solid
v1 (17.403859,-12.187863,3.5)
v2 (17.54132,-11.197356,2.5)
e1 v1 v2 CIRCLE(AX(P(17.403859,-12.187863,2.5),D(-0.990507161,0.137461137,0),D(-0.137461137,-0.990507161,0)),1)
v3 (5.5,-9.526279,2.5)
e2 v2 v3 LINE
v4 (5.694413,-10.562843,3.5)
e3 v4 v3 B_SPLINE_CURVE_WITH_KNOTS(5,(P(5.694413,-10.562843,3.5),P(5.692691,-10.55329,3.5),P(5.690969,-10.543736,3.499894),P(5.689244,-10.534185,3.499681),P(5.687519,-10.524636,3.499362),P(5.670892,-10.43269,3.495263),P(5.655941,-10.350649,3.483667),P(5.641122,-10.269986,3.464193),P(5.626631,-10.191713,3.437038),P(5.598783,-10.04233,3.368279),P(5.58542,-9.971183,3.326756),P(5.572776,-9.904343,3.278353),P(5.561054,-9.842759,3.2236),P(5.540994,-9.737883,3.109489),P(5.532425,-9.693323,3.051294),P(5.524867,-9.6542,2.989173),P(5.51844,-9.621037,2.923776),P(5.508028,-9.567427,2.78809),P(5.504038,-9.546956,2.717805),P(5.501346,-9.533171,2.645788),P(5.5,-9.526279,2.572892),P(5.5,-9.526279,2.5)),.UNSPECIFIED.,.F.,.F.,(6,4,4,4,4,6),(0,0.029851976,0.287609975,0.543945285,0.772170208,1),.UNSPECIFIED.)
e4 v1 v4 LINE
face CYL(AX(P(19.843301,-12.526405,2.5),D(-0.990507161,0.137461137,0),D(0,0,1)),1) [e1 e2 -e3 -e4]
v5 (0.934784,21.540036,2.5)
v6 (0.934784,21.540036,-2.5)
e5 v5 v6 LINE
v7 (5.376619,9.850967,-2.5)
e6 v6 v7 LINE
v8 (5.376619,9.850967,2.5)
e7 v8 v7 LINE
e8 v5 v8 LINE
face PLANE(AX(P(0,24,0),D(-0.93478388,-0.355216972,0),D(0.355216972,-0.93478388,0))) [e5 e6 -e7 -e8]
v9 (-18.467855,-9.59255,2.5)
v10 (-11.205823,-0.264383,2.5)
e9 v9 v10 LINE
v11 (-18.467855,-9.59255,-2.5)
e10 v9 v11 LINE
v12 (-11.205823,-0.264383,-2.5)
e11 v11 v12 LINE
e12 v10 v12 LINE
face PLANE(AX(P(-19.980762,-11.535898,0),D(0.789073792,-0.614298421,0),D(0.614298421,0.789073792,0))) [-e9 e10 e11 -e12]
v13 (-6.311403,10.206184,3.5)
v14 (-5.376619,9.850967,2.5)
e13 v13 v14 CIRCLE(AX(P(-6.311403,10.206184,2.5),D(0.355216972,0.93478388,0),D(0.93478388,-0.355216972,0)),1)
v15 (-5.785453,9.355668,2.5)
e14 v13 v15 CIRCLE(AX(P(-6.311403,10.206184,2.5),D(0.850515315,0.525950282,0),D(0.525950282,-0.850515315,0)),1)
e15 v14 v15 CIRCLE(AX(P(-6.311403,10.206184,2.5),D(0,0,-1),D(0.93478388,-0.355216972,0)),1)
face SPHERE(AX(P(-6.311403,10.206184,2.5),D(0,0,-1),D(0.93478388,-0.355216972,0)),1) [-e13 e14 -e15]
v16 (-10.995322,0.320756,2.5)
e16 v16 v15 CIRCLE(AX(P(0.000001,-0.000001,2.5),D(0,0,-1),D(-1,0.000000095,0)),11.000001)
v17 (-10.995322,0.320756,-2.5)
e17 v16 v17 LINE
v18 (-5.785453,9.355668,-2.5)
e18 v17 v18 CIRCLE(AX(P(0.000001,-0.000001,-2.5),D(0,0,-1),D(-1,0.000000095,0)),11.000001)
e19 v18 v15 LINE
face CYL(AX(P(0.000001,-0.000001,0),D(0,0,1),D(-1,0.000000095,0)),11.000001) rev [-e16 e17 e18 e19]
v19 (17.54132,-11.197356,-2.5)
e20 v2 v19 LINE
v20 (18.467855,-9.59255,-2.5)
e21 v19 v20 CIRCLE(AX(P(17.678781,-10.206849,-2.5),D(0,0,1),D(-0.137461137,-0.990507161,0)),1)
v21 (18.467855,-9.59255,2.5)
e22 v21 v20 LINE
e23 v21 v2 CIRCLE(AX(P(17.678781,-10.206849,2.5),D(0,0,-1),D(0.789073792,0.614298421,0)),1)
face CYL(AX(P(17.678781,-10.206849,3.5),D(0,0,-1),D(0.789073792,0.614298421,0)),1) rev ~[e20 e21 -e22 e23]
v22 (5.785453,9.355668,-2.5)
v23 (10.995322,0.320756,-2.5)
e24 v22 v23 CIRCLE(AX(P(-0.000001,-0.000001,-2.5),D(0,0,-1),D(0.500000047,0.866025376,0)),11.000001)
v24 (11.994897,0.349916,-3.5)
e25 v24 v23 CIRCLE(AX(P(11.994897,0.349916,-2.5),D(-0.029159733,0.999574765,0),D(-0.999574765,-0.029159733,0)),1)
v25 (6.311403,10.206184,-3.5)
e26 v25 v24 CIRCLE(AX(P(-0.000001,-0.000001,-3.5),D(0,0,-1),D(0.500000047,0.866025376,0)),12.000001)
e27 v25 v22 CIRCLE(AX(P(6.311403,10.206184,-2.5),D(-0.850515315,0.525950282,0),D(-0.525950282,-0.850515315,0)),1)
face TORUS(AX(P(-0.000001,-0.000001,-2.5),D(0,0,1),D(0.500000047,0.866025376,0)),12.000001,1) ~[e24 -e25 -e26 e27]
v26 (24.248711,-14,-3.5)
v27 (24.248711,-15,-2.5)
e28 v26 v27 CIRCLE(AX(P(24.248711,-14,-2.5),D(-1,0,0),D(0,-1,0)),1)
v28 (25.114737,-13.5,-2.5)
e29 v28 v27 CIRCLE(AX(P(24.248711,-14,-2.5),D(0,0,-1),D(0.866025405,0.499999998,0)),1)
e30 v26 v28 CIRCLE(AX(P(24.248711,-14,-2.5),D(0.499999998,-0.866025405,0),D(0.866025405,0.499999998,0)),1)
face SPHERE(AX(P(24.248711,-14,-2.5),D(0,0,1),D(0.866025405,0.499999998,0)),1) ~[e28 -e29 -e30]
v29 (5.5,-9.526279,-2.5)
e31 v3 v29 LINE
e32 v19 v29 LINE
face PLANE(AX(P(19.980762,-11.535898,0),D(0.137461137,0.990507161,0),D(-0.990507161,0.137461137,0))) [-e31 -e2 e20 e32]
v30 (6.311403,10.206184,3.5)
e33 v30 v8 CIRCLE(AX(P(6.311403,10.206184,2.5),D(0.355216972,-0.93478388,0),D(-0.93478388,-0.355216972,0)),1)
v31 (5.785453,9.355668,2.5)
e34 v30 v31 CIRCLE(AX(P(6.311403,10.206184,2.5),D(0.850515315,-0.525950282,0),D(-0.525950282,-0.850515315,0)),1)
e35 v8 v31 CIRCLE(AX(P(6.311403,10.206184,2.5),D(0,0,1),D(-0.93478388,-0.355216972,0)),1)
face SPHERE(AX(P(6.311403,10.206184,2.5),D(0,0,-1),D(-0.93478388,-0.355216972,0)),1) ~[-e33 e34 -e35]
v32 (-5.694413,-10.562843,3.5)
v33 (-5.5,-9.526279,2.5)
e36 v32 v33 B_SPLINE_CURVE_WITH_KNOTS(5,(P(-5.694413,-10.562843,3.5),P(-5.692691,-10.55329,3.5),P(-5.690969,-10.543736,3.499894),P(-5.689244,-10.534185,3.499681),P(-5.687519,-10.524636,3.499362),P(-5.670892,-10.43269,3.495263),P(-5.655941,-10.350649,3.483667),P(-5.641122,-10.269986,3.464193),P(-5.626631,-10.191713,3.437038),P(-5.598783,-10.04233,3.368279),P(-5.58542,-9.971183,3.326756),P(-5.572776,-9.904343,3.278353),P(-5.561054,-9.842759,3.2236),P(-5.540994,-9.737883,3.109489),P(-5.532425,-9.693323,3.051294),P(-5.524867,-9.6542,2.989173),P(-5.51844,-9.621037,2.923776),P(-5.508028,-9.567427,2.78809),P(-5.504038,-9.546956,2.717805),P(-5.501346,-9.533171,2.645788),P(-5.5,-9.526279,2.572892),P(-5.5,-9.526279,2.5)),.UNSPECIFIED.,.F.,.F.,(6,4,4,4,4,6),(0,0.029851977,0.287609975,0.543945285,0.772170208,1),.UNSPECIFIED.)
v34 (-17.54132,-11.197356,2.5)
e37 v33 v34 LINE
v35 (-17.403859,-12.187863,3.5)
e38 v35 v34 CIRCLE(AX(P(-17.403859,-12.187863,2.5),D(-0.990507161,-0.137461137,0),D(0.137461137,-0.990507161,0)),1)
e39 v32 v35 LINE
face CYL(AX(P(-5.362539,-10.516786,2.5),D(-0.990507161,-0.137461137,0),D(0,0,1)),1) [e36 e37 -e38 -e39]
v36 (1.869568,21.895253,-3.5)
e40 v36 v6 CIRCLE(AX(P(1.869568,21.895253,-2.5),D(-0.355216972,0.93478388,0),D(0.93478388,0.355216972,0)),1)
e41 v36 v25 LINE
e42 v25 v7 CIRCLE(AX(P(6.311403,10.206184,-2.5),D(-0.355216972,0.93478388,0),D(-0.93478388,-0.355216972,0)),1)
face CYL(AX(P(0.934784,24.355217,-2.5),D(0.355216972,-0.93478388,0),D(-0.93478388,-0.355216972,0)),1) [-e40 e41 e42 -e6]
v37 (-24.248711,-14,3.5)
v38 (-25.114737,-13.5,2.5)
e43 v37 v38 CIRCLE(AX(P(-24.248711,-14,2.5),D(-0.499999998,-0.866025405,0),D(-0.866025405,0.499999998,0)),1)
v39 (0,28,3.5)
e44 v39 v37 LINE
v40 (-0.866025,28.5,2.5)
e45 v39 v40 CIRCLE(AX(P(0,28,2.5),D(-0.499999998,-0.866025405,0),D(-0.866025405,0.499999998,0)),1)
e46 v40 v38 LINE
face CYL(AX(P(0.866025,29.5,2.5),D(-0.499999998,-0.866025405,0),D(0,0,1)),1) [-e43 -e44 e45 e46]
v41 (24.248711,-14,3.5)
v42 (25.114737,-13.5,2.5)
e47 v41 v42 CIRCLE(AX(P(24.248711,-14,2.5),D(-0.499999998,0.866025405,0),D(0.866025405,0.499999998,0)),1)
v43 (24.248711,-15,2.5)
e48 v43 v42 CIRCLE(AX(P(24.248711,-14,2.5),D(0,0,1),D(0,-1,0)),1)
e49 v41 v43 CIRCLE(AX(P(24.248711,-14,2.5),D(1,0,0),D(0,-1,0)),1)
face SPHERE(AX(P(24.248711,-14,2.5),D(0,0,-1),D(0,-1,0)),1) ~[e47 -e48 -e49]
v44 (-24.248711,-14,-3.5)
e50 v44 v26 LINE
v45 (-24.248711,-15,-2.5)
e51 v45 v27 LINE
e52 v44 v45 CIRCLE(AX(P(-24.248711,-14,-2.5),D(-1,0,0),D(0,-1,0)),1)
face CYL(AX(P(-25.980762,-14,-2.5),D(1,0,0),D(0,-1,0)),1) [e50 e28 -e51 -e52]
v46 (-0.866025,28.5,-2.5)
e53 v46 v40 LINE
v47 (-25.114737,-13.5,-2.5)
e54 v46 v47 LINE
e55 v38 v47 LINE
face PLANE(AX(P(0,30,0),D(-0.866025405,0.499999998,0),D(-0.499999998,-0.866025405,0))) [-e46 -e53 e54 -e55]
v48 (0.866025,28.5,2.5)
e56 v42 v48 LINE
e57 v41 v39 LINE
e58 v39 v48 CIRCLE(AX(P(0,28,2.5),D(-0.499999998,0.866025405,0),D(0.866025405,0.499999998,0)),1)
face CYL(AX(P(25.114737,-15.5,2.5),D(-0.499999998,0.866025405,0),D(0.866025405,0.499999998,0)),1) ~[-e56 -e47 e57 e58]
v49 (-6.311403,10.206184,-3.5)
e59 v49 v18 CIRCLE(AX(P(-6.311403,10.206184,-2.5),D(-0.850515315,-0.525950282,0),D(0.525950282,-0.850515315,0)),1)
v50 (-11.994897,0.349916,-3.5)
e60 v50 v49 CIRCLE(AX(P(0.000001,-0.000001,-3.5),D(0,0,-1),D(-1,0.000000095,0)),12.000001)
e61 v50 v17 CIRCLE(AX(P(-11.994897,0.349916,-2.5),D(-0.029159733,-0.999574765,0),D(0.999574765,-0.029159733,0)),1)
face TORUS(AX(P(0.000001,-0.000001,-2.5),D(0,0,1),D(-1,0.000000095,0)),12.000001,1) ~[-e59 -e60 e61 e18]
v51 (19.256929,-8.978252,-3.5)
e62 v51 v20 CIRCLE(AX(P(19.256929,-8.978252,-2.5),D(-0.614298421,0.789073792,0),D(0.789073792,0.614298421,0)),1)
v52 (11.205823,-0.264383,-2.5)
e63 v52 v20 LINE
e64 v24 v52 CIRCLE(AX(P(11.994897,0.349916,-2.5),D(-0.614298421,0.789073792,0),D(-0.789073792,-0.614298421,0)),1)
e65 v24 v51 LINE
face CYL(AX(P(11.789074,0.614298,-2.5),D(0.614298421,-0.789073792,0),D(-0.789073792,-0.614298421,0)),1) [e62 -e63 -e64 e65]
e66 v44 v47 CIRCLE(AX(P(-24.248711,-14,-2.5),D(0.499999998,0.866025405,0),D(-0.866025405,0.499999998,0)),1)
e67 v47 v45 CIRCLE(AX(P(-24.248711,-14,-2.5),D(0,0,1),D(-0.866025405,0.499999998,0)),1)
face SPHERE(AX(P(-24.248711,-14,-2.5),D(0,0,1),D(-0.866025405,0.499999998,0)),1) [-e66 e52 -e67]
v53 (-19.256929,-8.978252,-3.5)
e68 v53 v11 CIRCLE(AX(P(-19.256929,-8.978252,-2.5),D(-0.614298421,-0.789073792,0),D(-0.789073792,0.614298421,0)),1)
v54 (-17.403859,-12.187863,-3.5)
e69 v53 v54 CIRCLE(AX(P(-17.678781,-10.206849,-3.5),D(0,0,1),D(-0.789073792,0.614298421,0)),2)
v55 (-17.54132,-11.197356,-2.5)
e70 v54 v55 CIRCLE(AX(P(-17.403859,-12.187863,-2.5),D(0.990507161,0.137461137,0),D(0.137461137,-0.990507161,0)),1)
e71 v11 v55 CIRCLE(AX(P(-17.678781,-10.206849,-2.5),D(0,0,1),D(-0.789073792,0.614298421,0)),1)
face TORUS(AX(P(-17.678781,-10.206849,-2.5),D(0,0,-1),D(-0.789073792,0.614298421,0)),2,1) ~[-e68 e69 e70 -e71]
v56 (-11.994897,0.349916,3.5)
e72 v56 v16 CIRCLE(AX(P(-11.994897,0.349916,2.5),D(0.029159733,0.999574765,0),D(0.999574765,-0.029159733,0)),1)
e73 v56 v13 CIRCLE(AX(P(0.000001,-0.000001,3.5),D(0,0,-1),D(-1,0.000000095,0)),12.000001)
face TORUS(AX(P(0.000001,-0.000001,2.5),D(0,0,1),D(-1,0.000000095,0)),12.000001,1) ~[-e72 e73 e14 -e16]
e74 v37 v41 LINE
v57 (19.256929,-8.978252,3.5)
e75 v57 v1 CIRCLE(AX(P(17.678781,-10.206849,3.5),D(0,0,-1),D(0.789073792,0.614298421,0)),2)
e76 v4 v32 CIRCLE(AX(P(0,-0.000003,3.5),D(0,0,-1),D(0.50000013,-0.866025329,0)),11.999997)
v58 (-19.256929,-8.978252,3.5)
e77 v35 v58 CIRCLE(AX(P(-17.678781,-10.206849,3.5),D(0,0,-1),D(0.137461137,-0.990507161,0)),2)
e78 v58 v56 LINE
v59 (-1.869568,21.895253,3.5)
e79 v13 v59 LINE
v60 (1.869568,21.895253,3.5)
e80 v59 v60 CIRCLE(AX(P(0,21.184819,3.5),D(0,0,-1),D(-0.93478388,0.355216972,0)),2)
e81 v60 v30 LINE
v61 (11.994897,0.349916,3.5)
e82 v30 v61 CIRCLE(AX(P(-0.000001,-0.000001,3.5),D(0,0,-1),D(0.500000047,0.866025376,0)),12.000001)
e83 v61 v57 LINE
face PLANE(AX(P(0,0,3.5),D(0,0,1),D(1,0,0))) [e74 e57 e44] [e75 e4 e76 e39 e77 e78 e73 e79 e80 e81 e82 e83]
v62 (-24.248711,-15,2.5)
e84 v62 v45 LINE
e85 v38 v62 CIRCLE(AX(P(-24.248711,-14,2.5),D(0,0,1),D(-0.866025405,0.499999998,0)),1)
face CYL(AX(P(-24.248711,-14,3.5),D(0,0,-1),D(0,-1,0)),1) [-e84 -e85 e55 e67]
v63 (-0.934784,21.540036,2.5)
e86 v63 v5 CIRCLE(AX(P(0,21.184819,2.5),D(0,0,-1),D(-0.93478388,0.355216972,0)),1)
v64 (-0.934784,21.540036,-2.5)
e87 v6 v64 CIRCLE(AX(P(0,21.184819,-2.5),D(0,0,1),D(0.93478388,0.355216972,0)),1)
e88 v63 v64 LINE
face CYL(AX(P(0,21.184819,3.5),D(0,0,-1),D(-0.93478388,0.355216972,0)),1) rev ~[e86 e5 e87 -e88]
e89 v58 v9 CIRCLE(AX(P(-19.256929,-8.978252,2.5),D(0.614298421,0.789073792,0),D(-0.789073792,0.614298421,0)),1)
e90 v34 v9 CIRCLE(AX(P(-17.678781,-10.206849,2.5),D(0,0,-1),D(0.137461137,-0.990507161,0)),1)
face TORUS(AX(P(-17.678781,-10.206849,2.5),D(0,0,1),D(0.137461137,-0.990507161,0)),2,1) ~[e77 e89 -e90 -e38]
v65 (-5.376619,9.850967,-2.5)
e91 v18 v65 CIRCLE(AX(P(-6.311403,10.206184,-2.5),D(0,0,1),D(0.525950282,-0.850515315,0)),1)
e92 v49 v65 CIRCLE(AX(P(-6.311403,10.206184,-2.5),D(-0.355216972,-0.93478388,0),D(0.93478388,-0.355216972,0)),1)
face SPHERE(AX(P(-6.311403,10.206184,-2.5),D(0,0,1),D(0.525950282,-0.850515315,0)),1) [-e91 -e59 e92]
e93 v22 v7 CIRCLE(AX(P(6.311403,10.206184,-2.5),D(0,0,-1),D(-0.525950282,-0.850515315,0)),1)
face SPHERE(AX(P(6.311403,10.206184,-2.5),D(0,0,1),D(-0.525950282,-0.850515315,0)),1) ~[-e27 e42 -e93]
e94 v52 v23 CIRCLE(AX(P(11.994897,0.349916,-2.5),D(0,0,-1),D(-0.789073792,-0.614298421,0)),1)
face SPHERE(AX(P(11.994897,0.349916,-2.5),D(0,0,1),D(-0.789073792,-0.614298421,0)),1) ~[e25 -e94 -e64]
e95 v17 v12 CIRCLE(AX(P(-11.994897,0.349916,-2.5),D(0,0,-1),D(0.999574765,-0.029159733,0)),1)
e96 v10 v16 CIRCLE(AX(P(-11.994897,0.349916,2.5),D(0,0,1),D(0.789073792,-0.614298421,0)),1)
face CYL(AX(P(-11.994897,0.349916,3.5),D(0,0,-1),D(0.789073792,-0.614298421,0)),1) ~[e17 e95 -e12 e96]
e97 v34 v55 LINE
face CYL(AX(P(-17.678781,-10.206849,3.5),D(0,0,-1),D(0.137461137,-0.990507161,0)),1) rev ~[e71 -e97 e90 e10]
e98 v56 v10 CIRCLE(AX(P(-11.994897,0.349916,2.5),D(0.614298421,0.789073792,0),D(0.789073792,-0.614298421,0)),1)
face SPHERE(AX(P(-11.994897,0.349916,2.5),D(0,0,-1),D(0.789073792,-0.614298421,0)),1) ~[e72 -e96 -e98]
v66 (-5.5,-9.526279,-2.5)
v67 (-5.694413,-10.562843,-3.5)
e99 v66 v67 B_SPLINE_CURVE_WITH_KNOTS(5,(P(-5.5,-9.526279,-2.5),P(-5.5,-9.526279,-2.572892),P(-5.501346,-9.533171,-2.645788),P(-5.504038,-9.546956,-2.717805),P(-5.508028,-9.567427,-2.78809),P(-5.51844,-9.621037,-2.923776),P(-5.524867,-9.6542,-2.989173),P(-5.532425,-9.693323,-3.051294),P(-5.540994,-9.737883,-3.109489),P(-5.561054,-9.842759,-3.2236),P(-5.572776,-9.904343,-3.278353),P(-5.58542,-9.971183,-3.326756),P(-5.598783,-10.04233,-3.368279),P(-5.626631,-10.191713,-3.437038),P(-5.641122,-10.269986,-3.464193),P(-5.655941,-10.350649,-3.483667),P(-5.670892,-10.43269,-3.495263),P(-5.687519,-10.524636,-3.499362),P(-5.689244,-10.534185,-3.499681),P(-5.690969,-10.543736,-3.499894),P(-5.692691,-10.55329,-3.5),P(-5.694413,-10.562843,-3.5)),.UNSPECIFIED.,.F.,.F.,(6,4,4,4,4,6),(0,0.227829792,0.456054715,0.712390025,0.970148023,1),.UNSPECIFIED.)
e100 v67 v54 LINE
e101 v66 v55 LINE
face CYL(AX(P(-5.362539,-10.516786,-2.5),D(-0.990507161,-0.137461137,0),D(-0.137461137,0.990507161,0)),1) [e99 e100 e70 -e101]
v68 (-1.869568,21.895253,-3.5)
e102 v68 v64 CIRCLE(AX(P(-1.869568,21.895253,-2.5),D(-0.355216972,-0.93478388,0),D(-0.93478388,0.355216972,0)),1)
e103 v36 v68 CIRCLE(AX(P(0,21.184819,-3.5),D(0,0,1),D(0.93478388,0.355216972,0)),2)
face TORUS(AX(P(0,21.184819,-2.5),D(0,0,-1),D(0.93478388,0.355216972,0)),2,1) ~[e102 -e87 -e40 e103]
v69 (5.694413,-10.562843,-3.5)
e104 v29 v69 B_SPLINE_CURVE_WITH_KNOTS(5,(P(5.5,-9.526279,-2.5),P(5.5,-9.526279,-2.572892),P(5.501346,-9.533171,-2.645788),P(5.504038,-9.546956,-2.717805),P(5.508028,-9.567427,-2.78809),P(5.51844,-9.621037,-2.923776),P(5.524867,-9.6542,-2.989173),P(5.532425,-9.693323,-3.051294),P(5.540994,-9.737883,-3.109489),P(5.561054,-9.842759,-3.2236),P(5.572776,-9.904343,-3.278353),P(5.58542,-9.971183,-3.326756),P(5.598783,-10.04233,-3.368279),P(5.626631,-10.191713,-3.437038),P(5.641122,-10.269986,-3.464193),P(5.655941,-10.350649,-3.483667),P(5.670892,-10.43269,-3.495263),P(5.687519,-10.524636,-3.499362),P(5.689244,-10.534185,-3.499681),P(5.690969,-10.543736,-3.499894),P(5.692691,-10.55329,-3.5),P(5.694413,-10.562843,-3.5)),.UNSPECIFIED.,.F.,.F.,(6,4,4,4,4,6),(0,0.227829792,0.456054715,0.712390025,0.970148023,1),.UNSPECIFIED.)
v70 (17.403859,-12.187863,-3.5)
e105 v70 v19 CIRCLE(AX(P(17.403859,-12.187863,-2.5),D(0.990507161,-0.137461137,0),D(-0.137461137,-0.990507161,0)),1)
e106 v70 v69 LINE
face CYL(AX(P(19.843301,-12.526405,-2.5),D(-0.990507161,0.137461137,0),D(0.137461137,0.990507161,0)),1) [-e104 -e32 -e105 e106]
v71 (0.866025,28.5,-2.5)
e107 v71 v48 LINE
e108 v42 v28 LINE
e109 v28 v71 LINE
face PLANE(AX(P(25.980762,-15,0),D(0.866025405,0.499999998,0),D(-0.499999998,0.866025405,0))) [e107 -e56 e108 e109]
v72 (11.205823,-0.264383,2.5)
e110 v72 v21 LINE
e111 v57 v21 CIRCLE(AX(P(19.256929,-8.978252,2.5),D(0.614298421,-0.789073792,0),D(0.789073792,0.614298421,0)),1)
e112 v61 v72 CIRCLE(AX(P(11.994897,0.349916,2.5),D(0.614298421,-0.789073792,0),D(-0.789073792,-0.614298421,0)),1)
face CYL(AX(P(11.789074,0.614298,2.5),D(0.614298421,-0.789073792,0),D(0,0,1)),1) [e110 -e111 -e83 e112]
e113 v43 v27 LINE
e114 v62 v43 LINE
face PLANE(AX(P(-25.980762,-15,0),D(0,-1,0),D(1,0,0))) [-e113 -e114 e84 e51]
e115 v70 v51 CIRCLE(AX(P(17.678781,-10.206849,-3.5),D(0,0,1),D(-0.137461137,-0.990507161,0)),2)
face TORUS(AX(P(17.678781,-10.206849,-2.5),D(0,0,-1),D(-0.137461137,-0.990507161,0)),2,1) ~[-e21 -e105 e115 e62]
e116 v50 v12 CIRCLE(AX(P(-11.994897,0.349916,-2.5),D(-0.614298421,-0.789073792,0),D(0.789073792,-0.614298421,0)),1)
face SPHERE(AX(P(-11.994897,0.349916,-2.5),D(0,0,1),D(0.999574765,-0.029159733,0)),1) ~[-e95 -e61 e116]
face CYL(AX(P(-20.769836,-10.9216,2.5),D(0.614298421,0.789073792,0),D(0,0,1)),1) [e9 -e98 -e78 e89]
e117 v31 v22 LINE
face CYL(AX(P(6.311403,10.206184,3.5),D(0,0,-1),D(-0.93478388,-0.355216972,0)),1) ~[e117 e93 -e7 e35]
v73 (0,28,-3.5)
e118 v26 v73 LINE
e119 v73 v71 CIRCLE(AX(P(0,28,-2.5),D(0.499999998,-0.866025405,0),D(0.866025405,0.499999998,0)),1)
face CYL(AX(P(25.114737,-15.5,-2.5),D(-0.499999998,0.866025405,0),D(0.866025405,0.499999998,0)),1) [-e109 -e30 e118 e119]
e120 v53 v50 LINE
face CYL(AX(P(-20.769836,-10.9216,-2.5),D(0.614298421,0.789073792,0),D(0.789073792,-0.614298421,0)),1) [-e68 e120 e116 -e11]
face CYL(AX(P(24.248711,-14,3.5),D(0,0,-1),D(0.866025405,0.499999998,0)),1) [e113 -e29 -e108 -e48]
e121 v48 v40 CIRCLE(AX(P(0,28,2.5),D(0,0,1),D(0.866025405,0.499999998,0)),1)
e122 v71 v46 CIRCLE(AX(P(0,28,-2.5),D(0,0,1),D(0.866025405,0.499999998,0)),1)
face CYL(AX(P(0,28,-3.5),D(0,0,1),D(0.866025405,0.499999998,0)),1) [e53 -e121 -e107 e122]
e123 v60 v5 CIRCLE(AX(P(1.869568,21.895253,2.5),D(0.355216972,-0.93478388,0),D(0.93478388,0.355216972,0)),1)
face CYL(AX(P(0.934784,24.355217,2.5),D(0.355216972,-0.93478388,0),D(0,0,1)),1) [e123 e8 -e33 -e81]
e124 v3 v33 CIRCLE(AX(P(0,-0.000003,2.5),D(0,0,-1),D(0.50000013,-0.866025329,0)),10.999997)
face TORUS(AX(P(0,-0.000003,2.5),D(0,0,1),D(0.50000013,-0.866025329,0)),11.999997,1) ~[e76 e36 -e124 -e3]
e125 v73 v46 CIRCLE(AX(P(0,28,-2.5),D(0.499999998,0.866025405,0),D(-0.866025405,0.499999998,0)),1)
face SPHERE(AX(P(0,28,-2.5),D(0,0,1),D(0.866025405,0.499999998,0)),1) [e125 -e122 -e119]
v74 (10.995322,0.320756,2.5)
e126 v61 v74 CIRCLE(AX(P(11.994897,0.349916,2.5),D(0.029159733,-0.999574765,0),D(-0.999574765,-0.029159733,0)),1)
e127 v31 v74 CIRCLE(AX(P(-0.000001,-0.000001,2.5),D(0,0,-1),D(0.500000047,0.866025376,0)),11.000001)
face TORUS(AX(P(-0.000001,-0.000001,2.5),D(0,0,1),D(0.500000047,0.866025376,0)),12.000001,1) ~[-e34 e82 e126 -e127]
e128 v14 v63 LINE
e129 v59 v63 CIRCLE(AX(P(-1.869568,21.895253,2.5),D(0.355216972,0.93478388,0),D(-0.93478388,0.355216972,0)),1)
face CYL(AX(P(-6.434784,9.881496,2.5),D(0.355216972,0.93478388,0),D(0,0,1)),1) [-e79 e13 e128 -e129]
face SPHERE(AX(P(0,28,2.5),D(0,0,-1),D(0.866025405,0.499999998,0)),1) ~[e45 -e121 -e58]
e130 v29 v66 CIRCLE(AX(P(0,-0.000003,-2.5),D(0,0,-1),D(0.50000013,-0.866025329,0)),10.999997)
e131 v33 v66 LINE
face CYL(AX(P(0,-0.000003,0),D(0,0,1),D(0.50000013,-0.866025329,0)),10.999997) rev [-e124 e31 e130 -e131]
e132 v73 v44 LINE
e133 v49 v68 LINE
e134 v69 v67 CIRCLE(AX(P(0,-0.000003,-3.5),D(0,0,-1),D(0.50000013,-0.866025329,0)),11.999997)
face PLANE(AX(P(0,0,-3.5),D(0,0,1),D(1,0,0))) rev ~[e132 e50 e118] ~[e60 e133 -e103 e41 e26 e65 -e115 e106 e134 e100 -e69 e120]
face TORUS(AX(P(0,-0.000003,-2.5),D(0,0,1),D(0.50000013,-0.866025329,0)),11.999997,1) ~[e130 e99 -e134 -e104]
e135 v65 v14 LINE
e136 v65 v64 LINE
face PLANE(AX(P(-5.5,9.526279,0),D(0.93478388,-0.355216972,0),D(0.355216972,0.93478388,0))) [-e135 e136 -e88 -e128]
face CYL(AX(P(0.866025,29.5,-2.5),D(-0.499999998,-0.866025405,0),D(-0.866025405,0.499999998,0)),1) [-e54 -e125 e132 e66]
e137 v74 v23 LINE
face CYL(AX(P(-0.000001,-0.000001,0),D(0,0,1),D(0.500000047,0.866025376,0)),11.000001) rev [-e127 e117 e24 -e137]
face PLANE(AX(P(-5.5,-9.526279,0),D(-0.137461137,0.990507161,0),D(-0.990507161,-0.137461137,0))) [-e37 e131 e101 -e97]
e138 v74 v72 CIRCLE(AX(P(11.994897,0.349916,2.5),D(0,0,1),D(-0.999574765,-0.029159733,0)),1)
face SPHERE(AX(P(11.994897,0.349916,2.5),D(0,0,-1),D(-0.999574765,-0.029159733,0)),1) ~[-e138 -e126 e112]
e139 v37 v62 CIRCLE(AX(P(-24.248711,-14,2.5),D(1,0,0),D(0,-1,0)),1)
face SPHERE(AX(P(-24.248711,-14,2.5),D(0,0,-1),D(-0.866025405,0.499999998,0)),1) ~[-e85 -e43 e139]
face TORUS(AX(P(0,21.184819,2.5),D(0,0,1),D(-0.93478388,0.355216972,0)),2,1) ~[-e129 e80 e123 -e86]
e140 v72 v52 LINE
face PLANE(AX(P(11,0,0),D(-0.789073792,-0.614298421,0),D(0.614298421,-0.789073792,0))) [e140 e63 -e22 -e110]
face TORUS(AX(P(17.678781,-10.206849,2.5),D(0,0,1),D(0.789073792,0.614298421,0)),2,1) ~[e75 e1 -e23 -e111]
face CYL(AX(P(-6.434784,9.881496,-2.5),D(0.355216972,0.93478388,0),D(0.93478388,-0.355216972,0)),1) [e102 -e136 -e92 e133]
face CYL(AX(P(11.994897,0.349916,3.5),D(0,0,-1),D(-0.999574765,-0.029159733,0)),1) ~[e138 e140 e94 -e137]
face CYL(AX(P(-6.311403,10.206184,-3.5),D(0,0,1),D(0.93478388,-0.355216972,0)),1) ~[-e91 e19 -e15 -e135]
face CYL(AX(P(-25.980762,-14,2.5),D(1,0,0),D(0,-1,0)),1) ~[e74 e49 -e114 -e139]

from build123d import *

# Parameters (mm, degrees)
F1_DEPTH = 3.5
F2_R     = 1


with BuildPart() as f1:
    # F0 (on Top) → F1 (new body, symmetric)
    with BuildSketch(Plane.XY):
        Polygon((25.980762, -15), (0, 30), (-25.980762, -15), align=None)
        with BuildLine():
            Line((-5.5, 9.526279), (0, 24))
            Line((0, 24), (5.5, 9.526279))
            ThreePointArc((5.5, 9.526279), (9.526279, 5.5), (11, 0))
            Line((11, 0), (19.980762, -11.535898))
            Line((19.980762, -11.535898), (5.5, -9.526279))
            ThreePointArc((5.5, -9.526279), (0, -11), (-5.5, -9.526279))
            Line((-5.5, -9.526279), (-19.980762, -11.535898))
            Line((-19.980762, -11.535898), (-11, 0))
            ThreePointArc((-11, 0), (-9.526279, 5.5), (-5.5, 9.526279))
        make_face(mode=Mode.SUBTRACT)
    extrude(amount=F1_DEPTH, both=True)

    # F2
    f2_edges = [f1.edges().sort_by_distance(p)[0] for p in [
        (0, -15, -3.5),
        (25.980762, -15, 0),
        (0, -15, 3.5),
        (-25.980762, -15, 0),
        (12.990381, 7.5, 3.5),
        (-12.990381, 7.5, 3.5),
        (-2.75, 16.76314, 3.5),
        (2.75, 16.76314, 3.5),
        (9.526279, 5.5, 3.5),
        (15.490381, -5.767949, 3.5),
        (12.740381, -10.531089, 3.5),
        (0, -11, 3.5),
        (-12.740381, -10.531089, 3.5),
        (-15.490381, -5.767949, 3.5),
        (-9.526279, 5.5, 3.5),
        (-19.980762, -11.535898, 0),
        (-15.490381, -5.767949, -3.5),
        (-11, 0, 0),
        (-2.75, 16.76314, -3.5),
        (0, 24, 0),
        (-5.5, 9.526279, 0),
        (2.75, 16.76314, -3.5),
        (5.5, 9.526279, 0),
        (9.526279, 5.5, -3.5),
        (11, 0, 0),
        (15.490381, -5.767949, -3.5),
        (19.980762, -11.535898, 0),
        (12.990381, 7.5, -3.5),
        (-12.990381, 7.5, -3.5),
        (12.740381, -10.531089, -3.5),
        (0, -11, -3.5),
        (-12.740381, -10.531089, -3.5),
        (-9.526279, 5.5, -3.5),
        (0, 30, 0),
    ]]
    fillet(f2_edges, radius=F2_R)


solid = f1.part
